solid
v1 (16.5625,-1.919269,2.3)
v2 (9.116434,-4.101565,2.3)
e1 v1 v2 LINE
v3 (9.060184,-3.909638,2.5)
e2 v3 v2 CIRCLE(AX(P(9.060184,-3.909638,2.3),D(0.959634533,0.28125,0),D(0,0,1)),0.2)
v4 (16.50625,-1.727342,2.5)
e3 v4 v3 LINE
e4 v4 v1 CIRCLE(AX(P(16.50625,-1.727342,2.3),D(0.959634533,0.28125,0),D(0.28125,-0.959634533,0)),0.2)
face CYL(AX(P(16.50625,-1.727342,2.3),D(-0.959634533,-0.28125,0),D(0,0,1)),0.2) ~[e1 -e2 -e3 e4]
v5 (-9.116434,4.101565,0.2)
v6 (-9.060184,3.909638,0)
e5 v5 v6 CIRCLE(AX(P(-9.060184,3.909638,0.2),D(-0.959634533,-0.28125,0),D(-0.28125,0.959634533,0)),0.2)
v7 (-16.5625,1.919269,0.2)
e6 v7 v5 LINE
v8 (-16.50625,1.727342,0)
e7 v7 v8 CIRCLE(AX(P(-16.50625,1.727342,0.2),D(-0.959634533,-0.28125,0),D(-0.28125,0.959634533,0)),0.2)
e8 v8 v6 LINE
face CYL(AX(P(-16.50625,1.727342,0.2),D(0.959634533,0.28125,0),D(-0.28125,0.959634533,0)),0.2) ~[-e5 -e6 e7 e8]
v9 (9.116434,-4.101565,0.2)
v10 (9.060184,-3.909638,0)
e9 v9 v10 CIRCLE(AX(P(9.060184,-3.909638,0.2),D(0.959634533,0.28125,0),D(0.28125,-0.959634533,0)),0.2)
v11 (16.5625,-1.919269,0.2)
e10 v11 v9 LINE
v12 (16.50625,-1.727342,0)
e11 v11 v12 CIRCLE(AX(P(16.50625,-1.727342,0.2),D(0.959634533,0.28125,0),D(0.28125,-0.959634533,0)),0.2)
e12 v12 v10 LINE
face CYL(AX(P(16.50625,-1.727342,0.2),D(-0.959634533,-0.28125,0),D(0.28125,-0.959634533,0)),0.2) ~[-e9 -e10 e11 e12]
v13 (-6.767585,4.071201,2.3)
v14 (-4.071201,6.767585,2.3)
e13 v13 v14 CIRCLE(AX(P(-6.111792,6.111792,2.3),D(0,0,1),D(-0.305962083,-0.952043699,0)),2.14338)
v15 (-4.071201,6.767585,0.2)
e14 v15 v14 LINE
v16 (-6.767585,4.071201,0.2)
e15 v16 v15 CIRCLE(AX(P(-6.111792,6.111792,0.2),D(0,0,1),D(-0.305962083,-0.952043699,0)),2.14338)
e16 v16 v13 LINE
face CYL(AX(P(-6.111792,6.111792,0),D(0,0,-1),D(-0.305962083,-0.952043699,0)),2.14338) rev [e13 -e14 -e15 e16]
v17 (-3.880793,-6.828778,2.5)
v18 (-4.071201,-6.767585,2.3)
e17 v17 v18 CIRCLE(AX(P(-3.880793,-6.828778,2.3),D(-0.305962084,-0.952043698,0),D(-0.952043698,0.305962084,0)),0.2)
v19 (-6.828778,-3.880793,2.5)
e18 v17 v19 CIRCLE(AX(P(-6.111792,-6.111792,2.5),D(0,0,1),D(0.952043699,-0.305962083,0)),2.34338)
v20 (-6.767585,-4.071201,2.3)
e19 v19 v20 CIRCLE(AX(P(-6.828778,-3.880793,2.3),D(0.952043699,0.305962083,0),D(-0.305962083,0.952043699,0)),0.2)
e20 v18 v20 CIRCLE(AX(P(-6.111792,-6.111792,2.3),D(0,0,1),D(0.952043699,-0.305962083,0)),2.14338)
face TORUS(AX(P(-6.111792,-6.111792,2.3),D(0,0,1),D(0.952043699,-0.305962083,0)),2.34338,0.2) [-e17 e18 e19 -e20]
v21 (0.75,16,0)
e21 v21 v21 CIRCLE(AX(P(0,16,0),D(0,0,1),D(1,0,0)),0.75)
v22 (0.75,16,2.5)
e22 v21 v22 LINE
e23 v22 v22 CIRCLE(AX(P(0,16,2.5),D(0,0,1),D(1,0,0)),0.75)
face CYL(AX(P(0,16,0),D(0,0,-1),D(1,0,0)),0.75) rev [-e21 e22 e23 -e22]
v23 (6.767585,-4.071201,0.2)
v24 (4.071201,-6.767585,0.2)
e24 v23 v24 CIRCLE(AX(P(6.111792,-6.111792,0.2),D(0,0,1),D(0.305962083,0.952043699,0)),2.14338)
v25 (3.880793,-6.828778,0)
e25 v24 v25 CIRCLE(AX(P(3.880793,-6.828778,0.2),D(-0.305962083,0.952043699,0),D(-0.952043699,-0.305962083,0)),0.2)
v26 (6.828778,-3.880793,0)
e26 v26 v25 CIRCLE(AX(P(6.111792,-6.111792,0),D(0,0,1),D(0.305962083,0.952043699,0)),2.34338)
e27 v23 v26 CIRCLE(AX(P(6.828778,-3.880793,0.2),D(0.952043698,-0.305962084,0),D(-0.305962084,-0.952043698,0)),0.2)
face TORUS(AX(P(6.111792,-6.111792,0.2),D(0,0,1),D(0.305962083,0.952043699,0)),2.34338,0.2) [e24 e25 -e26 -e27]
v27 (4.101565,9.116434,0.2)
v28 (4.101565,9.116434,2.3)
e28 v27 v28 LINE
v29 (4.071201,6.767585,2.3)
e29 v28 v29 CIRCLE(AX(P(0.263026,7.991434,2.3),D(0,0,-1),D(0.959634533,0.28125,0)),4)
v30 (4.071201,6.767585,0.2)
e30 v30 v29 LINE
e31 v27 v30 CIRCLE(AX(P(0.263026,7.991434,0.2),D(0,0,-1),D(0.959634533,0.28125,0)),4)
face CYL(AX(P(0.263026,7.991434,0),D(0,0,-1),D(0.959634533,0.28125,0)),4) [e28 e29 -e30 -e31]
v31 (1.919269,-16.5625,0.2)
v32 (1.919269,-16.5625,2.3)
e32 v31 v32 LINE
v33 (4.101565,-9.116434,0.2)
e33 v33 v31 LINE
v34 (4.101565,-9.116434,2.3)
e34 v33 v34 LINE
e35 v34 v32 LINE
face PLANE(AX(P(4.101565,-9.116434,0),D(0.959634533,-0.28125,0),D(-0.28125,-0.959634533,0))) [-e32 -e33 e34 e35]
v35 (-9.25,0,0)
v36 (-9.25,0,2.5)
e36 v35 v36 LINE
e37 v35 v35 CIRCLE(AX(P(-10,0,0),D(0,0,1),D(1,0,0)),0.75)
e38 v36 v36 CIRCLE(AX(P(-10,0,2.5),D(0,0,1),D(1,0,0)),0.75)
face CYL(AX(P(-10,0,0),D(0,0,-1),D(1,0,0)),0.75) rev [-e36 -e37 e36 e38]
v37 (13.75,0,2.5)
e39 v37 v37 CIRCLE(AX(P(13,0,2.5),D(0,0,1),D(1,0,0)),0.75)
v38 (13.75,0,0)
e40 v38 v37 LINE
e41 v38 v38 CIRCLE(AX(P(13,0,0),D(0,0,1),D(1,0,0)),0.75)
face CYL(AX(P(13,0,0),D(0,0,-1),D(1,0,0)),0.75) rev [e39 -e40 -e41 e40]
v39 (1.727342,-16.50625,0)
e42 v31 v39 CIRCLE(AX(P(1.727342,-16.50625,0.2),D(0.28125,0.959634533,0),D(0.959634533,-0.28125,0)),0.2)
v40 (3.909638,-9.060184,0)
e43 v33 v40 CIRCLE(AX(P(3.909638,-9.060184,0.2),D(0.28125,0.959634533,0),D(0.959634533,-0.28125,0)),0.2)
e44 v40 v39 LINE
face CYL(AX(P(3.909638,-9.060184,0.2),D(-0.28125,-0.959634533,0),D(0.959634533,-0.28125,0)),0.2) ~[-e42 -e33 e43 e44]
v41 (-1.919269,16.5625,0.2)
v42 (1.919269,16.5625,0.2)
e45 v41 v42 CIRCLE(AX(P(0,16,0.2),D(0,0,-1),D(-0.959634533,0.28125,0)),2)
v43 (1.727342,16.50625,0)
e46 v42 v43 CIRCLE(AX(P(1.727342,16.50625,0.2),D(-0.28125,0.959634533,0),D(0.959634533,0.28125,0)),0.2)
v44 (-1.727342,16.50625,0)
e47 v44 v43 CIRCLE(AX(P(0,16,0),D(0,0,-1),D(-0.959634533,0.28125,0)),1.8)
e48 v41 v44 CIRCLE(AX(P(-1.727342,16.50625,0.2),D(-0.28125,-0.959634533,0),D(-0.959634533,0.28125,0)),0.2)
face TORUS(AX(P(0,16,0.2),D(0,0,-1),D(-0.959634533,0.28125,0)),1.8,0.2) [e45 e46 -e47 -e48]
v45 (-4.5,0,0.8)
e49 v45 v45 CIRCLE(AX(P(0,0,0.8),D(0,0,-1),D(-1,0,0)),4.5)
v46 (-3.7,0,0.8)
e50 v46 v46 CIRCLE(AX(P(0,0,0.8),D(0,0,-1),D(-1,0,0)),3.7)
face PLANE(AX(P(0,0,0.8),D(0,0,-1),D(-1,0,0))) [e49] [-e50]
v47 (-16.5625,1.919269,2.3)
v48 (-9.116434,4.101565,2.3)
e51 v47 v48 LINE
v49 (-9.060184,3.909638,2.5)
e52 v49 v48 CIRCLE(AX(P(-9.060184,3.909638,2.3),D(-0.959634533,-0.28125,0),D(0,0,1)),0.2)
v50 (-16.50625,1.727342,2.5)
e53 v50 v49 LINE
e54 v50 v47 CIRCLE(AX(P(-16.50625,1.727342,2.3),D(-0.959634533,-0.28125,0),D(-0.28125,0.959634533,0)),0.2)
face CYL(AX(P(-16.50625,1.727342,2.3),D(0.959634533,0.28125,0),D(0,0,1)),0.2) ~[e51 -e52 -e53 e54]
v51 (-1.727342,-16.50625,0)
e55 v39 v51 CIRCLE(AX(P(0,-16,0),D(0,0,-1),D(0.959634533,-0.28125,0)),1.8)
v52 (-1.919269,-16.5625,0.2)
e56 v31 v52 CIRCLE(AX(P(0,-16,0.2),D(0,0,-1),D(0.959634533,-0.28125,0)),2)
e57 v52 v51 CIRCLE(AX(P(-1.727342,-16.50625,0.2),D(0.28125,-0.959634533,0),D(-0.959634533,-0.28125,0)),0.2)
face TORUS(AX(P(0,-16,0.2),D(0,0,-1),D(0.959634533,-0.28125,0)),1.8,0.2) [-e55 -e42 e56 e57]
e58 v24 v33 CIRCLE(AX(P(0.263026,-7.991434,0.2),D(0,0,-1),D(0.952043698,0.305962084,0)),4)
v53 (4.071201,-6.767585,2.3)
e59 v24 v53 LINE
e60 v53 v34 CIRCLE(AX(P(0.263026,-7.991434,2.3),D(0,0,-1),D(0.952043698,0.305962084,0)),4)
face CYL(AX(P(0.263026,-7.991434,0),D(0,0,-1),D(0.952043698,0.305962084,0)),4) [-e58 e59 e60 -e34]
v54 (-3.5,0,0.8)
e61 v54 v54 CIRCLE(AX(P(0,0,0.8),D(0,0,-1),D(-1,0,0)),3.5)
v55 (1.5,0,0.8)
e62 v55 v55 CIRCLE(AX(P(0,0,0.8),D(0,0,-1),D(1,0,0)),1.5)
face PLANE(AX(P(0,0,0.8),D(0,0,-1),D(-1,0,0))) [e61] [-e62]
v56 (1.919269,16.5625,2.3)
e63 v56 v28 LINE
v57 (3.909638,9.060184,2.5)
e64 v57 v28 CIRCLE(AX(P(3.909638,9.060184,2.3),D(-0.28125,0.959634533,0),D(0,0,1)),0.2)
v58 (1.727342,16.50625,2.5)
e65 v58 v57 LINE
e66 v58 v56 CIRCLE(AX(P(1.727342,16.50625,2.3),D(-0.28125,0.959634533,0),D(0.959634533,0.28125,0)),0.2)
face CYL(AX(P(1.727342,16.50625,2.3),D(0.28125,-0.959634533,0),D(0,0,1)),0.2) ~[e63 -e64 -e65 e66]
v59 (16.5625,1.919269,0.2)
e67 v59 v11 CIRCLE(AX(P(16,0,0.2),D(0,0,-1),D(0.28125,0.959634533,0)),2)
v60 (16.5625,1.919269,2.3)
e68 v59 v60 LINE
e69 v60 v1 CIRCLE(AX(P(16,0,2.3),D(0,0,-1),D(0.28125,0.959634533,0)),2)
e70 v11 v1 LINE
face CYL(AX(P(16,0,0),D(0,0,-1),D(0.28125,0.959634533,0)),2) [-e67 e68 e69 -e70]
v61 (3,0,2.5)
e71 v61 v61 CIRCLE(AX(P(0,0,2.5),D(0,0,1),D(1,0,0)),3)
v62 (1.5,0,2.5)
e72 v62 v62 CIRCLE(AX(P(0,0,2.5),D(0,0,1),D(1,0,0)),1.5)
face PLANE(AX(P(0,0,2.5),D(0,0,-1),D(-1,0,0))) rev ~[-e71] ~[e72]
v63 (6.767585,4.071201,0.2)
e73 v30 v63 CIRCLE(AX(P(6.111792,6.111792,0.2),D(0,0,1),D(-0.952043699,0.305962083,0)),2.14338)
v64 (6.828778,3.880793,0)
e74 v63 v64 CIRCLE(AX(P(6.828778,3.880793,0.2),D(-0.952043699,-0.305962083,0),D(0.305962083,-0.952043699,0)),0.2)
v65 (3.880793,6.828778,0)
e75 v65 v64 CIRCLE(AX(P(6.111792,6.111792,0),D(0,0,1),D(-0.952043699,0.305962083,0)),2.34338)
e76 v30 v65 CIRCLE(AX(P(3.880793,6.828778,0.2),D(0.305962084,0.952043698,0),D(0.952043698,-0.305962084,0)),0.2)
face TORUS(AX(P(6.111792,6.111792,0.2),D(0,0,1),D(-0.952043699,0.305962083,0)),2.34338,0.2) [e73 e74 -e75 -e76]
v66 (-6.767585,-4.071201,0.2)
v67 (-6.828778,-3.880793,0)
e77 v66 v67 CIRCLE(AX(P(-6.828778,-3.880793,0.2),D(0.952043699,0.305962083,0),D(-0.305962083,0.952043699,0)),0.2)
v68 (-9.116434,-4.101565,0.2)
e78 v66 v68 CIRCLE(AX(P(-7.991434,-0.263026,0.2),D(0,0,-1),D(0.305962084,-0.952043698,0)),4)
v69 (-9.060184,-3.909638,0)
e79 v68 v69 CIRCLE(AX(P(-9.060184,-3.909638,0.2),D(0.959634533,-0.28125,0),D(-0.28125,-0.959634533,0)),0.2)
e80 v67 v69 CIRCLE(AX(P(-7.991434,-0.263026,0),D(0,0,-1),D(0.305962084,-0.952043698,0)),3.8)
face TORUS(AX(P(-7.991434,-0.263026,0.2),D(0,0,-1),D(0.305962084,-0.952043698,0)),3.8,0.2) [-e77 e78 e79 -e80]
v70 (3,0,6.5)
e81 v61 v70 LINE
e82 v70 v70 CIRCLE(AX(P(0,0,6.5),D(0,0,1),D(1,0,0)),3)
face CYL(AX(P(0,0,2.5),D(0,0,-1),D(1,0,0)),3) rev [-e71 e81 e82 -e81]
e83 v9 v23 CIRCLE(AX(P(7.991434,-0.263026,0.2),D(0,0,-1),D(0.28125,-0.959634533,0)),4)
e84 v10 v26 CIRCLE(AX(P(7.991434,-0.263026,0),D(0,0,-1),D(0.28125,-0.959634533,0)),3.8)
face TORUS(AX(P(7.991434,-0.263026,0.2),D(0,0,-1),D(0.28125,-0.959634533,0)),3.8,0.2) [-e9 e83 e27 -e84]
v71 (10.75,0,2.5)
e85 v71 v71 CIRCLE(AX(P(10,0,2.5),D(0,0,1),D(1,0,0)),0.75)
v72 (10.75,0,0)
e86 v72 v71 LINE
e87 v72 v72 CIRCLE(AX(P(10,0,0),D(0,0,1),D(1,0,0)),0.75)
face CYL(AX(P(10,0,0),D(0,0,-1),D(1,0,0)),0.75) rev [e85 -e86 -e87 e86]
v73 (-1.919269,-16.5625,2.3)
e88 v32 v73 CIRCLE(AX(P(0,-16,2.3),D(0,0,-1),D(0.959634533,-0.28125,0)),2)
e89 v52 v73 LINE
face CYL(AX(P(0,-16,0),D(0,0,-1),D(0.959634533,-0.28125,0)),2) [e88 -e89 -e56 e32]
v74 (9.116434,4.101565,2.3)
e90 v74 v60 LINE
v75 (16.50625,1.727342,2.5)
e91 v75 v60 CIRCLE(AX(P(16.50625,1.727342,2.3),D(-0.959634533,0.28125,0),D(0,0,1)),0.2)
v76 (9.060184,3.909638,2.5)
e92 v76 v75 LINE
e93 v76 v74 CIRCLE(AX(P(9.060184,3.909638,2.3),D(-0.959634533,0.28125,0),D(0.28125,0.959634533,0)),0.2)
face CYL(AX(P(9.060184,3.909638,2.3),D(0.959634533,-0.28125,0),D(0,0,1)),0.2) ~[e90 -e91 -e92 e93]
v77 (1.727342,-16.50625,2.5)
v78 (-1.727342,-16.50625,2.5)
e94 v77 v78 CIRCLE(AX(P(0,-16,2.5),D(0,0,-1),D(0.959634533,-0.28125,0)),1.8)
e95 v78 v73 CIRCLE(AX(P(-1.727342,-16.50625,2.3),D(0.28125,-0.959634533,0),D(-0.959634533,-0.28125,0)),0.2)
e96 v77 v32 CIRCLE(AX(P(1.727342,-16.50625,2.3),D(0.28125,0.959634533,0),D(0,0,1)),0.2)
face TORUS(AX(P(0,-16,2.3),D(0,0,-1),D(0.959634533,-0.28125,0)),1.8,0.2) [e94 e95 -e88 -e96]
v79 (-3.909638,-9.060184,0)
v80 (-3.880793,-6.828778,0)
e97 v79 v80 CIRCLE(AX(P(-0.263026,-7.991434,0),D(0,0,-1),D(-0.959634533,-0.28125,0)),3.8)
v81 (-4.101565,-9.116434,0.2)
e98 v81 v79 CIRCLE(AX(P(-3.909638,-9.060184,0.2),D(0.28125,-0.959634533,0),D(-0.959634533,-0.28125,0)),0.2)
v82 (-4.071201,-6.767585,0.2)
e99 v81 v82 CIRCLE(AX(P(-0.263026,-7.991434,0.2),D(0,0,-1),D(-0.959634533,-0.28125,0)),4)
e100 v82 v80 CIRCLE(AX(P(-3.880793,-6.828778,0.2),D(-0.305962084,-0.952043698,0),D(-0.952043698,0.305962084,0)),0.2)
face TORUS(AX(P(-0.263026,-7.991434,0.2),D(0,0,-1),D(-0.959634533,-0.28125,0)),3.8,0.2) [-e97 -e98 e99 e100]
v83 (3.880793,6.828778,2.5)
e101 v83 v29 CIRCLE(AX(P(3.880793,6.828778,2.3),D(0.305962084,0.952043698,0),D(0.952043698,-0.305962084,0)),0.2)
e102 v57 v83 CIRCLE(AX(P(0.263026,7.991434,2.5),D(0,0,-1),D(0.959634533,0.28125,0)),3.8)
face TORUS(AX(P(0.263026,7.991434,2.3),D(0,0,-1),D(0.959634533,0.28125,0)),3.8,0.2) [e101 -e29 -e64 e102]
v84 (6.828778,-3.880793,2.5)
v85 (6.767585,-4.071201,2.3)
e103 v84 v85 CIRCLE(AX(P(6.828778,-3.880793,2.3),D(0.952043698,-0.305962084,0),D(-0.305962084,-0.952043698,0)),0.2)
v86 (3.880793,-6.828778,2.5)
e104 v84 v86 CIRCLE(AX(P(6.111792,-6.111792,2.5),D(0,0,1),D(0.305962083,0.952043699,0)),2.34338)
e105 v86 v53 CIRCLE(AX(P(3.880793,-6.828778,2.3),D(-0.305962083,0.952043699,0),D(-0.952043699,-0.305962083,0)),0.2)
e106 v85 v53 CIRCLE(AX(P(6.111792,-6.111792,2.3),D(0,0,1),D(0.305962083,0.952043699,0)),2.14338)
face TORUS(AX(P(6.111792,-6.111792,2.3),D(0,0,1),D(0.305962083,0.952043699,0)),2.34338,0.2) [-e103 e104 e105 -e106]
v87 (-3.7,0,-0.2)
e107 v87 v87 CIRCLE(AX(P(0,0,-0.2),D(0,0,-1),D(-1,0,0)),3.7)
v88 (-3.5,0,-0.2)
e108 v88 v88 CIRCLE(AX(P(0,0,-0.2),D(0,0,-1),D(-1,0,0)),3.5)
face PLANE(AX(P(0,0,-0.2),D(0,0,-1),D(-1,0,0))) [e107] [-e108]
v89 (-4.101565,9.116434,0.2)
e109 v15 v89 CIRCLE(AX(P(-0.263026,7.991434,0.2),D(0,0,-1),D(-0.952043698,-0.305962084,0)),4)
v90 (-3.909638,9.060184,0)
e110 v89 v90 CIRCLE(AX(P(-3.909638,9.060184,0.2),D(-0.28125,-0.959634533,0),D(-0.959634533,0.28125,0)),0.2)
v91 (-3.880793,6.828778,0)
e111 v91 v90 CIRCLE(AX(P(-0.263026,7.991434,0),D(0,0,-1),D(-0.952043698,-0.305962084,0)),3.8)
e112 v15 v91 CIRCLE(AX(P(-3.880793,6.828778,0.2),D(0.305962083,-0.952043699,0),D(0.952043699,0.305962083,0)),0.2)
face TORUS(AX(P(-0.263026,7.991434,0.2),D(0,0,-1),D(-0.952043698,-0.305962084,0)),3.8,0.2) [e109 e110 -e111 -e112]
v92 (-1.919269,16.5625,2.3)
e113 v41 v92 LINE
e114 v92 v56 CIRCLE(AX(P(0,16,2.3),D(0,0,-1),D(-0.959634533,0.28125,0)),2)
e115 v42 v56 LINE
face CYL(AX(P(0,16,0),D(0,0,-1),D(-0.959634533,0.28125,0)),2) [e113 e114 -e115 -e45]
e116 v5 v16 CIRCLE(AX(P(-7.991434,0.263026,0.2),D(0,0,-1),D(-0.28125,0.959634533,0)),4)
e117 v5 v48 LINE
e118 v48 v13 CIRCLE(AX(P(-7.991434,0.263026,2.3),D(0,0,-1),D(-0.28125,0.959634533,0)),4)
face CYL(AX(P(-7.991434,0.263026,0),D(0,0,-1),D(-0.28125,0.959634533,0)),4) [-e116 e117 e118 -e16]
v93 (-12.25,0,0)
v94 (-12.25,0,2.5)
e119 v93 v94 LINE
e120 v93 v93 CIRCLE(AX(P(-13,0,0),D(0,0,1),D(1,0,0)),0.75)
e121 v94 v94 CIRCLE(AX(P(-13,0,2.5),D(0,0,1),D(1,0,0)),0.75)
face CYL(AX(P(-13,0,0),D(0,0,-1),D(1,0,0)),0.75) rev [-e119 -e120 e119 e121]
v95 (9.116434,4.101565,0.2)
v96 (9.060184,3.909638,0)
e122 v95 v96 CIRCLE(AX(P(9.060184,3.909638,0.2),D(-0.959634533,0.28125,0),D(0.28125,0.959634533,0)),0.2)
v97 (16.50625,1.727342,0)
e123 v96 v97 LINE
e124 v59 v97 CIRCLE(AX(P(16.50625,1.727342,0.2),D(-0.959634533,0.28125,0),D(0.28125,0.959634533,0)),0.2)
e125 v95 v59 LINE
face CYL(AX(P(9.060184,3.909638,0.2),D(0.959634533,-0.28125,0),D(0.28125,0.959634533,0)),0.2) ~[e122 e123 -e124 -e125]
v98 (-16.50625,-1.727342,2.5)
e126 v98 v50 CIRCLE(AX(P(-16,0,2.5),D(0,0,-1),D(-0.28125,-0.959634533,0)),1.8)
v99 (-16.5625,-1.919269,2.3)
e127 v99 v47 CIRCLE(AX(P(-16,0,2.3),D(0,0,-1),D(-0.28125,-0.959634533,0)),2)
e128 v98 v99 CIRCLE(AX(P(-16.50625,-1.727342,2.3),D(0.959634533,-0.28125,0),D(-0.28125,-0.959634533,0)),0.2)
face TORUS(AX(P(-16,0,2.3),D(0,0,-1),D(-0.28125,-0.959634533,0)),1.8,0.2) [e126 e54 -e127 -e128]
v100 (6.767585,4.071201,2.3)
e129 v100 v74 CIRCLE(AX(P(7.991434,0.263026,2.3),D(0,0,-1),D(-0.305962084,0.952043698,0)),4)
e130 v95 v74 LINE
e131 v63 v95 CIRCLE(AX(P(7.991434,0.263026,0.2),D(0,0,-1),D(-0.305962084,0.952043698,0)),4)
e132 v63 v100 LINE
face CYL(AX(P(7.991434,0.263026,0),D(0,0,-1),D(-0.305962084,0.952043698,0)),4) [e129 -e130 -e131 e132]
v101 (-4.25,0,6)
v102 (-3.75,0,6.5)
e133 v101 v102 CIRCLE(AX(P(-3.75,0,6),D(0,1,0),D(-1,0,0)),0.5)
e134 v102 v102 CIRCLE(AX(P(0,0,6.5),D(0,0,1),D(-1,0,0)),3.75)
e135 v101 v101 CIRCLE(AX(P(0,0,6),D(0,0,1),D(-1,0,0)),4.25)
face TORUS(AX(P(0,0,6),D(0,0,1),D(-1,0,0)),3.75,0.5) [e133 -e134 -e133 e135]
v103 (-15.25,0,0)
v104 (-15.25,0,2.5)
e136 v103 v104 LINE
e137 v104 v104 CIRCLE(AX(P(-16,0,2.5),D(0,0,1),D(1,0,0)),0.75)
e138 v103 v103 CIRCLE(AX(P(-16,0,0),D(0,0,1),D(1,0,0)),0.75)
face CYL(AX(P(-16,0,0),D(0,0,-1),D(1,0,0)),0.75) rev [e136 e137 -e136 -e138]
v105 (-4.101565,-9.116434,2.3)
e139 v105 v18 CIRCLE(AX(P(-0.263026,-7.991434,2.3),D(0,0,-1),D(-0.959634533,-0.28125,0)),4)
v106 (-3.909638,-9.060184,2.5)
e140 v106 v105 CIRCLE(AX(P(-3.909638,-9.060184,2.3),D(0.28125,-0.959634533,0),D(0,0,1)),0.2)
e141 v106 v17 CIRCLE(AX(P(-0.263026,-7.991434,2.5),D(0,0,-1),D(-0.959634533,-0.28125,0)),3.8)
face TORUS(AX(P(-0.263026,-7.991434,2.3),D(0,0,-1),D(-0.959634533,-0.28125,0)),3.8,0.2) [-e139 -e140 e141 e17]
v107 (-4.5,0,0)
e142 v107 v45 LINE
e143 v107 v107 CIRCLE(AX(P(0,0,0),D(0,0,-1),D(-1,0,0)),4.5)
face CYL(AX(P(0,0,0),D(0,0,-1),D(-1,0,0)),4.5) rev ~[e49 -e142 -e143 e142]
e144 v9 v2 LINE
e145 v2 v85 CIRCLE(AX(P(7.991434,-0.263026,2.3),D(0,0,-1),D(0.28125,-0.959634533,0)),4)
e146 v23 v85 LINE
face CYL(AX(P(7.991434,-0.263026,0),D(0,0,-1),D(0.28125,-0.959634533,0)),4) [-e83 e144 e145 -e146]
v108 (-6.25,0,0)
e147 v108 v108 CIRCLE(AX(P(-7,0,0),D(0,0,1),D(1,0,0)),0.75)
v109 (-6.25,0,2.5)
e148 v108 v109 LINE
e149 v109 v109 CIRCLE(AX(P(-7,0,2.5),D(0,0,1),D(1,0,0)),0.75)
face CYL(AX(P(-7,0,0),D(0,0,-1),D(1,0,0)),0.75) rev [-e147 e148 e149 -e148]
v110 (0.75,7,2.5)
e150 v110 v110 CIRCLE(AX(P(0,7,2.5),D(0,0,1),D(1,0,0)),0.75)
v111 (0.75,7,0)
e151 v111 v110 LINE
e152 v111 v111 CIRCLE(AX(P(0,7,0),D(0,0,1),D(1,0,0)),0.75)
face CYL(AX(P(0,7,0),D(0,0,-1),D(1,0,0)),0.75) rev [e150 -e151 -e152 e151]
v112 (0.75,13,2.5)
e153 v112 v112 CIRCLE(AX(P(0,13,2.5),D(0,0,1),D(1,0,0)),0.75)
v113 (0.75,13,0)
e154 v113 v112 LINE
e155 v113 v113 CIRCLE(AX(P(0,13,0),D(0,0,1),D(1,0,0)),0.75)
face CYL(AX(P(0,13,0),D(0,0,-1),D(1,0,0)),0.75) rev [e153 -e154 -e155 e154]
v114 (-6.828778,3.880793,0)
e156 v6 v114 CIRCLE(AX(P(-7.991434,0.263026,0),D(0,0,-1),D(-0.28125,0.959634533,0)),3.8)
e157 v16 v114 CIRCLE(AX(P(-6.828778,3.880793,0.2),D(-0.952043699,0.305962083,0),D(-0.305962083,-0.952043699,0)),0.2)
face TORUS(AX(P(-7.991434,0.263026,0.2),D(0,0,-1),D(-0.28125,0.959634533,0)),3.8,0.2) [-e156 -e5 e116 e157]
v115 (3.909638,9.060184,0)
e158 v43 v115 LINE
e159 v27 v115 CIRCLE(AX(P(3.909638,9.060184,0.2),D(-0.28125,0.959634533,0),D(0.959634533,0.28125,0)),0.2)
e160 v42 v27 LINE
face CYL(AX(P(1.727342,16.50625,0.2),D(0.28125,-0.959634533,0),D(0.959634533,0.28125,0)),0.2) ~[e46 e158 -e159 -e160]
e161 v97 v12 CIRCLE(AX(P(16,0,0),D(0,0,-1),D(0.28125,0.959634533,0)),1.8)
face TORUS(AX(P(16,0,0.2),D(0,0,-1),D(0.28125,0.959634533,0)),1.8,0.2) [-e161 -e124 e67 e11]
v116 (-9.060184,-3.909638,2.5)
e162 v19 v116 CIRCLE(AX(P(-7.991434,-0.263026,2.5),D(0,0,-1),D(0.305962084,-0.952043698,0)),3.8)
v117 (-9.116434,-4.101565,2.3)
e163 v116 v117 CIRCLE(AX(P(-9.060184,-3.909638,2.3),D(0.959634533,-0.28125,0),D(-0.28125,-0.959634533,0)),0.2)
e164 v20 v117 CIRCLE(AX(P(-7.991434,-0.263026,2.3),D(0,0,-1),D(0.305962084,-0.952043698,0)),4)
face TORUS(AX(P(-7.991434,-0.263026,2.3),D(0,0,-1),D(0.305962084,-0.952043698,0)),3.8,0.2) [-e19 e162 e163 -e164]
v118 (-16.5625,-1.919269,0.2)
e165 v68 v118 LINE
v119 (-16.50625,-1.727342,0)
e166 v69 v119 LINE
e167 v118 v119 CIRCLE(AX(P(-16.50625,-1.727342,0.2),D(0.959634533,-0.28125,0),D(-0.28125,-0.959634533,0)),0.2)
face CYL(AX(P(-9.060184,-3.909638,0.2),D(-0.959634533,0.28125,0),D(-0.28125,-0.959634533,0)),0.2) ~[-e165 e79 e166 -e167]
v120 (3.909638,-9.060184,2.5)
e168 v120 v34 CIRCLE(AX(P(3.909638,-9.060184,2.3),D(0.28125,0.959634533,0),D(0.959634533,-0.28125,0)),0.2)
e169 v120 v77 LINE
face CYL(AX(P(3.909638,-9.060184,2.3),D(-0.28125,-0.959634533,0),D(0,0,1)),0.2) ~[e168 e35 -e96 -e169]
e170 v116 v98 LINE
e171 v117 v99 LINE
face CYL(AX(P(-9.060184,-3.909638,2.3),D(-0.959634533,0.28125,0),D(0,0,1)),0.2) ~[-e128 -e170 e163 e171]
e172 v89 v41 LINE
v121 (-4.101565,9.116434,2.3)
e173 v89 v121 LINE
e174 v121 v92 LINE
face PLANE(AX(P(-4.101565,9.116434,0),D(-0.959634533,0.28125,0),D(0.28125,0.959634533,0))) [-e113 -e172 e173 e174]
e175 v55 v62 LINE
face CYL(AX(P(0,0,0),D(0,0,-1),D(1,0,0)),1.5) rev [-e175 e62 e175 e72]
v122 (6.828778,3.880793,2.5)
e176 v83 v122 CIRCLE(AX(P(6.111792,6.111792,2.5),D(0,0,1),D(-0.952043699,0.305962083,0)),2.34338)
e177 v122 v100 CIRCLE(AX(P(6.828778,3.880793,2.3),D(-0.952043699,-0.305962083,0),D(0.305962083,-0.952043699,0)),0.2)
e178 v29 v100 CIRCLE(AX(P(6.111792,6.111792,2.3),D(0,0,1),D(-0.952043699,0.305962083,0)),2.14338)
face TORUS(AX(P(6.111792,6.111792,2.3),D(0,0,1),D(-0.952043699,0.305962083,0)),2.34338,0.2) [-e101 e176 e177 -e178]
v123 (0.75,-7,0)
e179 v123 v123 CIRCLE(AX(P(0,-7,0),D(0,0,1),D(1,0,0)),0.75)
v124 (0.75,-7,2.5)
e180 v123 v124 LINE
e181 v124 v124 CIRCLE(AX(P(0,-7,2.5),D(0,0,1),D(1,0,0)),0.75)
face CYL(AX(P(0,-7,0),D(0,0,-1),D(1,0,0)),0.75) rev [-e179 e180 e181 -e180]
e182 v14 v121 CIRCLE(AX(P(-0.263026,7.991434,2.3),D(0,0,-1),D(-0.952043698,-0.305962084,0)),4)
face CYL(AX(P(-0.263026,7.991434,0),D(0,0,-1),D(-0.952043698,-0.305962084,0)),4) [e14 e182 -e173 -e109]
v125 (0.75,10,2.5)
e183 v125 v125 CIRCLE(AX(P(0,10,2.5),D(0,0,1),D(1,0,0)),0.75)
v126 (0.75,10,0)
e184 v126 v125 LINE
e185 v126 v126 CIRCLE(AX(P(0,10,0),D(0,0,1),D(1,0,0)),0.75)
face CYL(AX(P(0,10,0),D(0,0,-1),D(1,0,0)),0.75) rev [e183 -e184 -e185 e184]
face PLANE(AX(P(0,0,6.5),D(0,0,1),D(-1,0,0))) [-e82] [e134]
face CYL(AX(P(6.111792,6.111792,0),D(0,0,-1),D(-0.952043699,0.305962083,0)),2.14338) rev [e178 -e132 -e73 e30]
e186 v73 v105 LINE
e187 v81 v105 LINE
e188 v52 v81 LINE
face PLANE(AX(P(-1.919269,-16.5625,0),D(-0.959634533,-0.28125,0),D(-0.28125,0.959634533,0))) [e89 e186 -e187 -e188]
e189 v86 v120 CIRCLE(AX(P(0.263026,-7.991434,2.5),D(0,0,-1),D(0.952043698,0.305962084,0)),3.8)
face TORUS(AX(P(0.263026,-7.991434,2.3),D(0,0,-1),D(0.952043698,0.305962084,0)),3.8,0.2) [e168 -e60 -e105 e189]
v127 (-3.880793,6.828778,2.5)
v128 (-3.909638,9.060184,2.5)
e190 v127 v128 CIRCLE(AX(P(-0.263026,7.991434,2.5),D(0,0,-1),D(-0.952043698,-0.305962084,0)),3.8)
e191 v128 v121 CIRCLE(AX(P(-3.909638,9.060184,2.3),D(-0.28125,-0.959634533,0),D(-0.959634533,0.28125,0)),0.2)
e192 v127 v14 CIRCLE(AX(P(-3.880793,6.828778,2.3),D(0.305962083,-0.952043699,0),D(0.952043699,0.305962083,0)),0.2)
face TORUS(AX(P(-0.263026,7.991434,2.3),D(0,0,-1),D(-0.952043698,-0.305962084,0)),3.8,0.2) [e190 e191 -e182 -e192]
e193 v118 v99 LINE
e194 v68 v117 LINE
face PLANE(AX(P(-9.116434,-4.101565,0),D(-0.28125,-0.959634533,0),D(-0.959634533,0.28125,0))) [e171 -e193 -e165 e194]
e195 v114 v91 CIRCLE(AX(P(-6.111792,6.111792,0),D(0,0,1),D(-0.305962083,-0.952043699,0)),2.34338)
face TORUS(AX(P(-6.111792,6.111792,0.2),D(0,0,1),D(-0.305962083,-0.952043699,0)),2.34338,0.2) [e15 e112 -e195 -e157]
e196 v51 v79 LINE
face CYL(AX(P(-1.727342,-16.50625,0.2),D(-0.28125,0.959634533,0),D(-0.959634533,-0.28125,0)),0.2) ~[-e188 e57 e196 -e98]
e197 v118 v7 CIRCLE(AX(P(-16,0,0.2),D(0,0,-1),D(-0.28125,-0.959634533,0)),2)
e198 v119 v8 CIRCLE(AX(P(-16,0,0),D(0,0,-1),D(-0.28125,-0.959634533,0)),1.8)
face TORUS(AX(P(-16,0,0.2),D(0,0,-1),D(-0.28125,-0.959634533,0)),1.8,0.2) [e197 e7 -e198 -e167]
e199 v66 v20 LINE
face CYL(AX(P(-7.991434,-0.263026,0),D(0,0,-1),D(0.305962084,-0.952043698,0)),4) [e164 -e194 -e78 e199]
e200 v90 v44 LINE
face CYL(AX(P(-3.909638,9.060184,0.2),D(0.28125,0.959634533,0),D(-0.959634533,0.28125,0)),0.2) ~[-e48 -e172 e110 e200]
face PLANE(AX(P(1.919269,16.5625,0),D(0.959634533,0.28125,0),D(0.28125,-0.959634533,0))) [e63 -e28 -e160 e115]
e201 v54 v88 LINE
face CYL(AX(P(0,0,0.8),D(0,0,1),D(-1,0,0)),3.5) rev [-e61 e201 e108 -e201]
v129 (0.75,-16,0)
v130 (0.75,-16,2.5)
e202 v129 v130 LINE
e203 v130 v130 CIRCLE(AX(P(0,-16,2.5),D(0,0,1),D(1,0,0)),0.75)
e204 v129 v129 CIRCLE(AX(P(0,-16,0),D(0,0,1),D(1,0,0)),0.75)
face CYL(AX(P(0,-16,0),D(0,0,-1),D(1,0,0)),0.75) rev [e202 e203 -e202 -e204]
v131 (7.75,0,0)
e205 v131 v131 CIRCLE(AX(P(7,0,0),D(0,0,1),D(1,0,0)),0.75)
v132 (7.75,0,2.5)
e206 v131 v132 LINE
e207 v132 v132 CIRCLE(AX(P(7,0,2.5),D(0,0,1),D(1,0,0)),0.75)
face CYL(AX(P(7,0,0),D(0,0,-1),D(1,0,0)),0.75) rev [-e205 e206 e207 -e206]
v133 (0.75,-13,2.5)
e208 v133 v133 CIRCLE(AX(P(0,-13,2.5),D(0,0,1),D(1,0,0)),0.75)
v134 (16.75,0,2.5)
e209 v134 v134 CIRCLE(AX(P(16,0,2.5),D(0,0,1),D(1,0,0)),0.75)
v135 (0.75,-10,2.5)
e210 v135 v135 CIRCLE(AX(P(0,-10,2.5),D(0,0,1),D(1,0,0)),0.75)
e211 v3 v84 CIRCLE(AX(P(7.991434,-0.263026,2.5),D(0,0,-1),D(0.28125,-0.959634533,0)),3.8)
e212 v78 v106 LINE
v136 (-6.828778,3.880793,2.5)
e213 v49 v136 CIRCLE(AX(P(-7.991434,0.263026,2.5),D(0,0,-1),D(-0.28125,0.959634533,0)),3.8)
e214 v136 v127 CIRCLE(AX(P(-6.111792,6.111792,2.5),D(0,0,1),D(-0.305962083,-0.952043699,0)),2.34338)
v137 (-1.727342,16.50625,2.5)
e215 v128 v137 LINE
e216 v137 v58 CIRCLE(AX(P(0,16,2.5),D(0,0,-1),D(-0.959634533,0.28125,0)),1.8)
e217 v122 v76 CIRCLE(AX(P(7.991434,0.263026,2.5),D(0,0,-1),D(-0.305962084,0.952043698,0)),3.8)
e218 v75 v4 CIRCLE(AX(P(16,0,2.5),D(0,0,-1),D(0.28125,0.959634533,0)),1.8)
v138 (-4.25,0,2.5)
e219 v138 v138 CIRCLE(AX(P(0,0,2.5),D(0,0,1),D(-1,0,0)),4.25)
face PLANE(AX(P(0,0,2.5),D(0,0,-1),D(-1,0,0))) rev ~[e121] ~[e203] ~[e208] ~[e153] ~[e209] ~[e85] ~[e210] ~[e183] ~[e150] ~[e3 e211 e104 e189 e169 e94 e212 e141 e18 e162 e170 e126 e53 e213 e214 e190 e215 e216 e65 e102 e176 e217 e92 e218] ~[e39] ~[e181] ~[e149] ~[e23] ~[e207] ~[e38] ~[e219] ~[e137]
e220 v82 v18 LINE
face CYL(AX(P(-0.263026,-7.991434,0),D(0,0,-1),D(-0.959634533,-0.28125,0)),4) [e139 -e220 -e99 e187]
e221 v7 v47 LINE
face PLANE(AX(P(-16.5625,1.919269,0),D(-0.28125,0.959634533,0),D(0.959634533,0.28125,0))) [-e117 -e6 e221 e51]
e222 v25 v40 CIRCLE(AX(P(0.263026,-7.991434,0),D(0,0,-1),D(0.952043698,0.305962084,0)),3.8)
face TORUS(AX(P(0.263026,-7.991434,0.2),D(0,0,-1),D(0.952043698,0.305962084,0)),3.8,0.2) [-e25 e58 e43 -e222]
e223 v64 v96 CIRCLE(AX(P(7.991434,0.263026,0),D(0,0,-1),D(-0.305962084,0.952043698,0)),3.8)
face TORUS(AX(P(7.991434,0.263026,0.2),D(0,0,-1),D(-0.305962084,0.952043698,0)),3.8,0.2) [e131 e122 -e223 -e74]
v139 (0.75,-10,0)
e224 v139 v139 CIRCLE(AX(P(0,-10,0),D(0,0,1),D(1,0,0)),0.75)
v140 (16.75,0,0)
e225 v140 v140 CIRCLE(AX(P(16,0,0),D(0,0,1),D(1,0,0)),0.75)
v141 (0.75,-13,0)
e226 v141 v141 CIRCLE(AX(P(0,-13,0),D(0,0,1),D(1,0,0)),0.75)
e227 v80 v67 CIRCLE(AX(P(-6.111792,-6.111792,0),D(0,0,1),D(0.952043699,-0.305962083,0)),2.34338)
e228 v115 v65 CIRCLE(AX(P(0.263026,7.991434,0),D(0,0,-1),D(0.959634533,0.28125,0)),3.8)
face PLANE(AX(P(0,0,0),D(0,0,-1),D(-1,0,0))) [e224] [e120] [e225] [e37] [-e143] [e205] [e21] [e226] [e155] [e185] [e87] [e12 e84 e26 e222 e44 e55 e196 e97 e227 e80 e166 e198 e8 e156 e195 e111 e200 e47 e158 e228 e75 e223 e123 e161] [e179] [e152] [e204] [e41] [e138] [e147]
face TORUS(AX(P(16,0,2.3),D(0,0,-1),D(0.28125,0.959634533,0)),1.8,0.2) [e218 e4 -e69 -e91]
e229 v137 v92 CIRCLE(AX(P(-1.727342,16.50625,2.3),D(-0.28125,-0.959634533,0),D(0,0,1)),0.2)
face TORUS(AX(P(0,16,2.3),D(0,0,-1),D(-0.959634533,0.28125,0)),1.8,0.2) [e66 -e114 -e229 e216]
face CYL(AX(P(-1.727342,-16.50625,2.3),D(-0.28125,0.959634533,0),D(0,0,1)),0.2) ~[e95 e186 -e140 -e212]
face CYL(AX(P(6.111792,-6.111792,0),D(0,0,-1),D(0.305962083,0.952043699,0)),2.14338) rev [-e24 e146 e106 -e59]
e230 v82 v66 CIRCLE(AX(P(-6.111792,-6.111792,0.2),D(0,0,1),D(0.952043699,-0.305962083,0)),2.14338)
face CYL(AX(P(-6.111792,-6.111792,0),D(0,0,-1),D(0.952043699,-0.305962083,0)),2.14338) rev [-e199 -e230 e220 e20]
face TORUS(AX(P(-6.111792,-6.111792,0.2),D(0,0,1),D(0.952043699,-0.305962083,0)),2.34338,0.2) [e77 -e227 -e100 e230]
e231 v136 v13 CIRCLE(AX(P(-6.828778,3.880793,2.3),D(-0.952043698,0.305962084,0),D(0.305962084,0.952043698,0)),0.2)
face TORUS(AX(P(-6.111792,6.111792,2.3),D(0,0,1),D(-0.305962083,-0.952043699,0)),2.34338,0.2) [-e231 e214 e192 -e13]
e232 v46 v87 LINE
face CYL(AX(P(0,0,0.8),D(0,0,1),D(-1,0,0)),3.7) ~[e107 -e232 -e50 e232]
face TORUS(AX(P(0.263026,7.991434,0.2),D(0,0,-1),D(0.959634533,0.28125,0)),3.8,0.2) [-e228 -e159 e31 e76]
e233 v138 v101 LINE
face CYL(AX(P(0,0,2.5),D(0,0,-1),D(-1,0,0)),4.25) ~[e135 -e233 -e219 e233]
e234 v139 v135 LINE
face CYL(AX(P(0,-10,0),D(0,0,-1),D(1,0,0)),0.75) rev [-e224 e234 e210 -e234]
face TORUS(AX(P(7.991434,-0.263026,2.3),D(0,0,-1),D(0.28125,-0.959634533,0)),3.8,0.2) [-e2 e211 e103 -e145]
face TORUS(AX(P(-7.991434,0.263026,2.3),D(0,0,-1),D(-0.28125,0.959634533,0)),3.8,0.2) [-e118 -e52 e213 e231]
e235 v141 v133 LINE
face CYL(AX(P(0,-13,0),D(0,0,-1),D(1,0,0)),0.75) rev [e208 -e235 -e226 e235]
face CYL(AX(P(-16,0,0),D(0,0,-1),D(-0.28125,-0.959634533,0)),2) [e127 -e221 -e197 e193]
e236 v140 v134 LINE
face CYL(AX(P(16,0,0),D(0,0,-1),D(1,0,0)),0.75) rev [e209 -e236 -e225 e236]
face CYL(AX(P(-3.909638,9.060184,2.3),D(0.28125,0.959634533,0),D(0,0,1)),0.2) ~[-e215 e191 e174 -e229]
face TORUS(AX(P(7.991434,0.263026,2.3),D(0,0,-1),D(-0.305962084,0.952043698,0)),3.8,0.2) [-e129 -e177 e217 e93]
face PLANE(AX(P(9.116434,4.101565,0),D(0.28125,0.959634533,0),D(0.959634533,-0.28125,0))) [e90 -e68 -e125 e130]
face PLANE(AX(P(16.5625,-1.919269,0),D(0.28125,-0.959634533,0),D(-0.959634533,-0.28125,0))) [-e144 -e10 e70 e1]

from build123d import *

# Parameters (mm, degrees)
SKETCH1_R           = 0.75
SKETCH1_R_2         = 1.5
BOSS_EXTRUDE1_DEPTH = 2.5
SKETCH2_R           = 4.25
SKETCH2_R_2         = 3
BOSS_EXTRUDE2_DEPTH = 4
SKETCH3_R           = 4.5
CUT_EXTRUDE1_DEPTH  = 0.8
SKETCH4_R           = 3.7
SKETCH4_R_2         = 3.5
BOSS_EXTRUDE3_DEPTH = 1
FILLET2_R           = 0.5
FILLET3_R           = 0.2


with BuildPart() as part:
    # Sketch1 → Boss-Extrude1 (new body)
    with BuildSketch(Plane.XY):
        with BuildLine():
            Line((1.919269067, 16.5625), (4.101564582, 9.116433729))
            ThreePointArc((4.101564582, 9.116433729), (4.262692281, 7.939730428), (4.071201242, 6.767585396))
            ThreePointArc((4.071201242, 6.767585396), (4.596194078, 4.596194078), (6.767585396, 4.071201242))
            ThreePointArc((6.767585396, 4.071201242), (7.939730428, 4.262692281), (9.116433729, 4.101564582))
            Line((9.116433729, 4.101564582), (16.5625, 1.919269067))
            ThreePointArc((16.5625, 1.919269067), (18, 0), (16.5625, -1.919269067))
            Line((16.5625, -1.919269067), (9.116433729, -4.101564582))
            ThreePointArc((9.116433729, -4.101564582), (7.939730428, -4.262692281), (6.767585396, -4.071201242))
            ThreePointArc((6.767585396, -4.071201242), (4.596194078, -4.596194078), (4.071201242, -6.767585396))
            ThreePointArc((4.071201242, -6.767585396), (4.262692281, -7.939730428), (4.101564582, -9.116433729))
            Line((4.101564582, -9.116433729), (1.919269067, -16.5625))
            ThreePointArc((1.919269067, -16.5625), (0, -18), (-1.919269067, -16.5625))
            Line((-1.919269067, -16.5625), (-4.101564582, -9.116433729))
            ThreePointArc((-4.101564582, -9.116433729), (-4.262692281, -7.939730428), (-4.071201242, -6.767585396))
            ThreePointArc((-4.071201242, -6.767585396), (-4.596194078, -4.596194078), (-6.767585396, -4.071201242))
            ThreePointArc((-6.767585396, -4.071201242), (-7.939730428, -4.262692281), (-9.116433729, -4.101564582))
            Line((-9.116433729, -4.101564582), (-16.5625, -1.919269067))
            ThreePointArc((-16.5625, -1.919269067), (-18, 0), (-16.5625, 1.919269067))
            Line((-16.5625, 1.919269067), (-9.116433729, 4.101564582))
            ThreePointArc((-9.116433729, 4.101564582), (-7.939730428, 4.262692281), (-6.767585396, 4.071201242))
            ThreePointArc((-6.767585396, 4.071201242), (-4.596194078, 4.596194078), (-4.071201242, 6.767585396))
            ThreePointArc((-4.071201242, 6.767585396), (-4.262692281, 7.939730428), (-4.101564582, 9.116433729))
            Line((-4.101564582, 9.116433729), (-1.919269067, 16.5625))
            ThreePointArc((-1.919269067, 16.5625), (0, 18), (1.919269067, 16.5625))
        make_face()
        with Locations((0, 7)):
            Circle(SKETCH1_R, mode=Mode.SUBTRACT)
        with Locations((0, 10)):
            Circle(SKETCH1_R, mode=Mode.SUBTRACT)
        with Locations((0, 13)):
            Circle(SKETCH1_R, mode=Mode.SUBTRACT)
        with Locations((0, 16)):
            Circle(SKETCH1_R, mode=Mode.SUBTRACT)
        Circle(SKETCH1_R_2, mode=Mode.SUBTRACT)
        with Locations((16, 0)):
            Circle(SKETCH1_R, mode=Mode.SUBTRACT)
        with Locations((13, 0)):
            Circle(SKETCH1_R, mode=Mode.SUBTRACT)
        with Locations((10, 0)):
            Circle(SKETCH1_R, mode=Mode.SUBTRACT)
        with Locations((7, 0)):
            Circle(SKETCH1_R, mode=Mode.SUBTRACT)
        with Locations((0, -16)):
            Circle(SKETCH1_R, mode=Mode.SUBTRACT)
        with Locations((0, -13)):
            Circle(SKETCH1_R, mode=Mode.SUBTRACT)
        with Locations((0, -10)):
            Circle(SKETCH1_R, mode=Mode.SUBTRACT)
        with Locations((0, -7)):
            Circle(SKETCH1_R, mode=Mode.SUBTRACT)
        with Locations((-16, 0)):
            Circle(SKETCH1_R, mode=Mode.SUBTRACT)
        with Locations((-13, 0)):
            Circle(SKETCH1_R, mode=Mode.SUBTRACT)
        with Locations((-10, 0)):
            Circle(SKETCH1_R, mode=Mode.SUBTRACT)
        with Locations((-7, 0)):
            Circle(SKETCH1_R, mode=Mode.SUBTRACT)
    extrude(amount=BOSS_EXTRUDE1_DEPTH)

    # Sketch2 → Boss-Extrude2 (add)
    with BuildSketch(Plane.XY.offset(2.5)):
        with Locations(Location((0, 0, 0), (0, 0, 180))):
            Circle(SKETCH2_R)
        Circle(SKETCH2_R_2, mode=Mode.SUBTRACT)
    extrude(amount=BOSS_EXTRUDE2_DEPTH)

    # Sketch3 → Cut-Extrude1 (cut)
    with BuildSketch(Plane(origin=(0, 0, 0), x_dir=(-1, 0, 0), z_dir=(0, 0, -1))):
        Circle(SKETCH3_R)
    extrude(amount=-CUT_EXTRUDE1_DEPTH, mode=Mode.SUBTRACT)

    # Sketch4 → Boss-Extrude3 (add)
    with BuildSketch(Plane(origin=(0, 0, 0.8), x_dir=(-1, 0, 0), z_dir=(0, 0, -1))):
        Circle(SKETCH4_R)
        Circle(SKETCH4_R_2, mode=Mode.SUBTRACT)
    extrude(amount=BOSS_EXTRUDE3_DEPTH)

    # Fillet2
    fillet2_edges = [part.edges().sort_by_distance(p)[0] for p in [
        (4.25, 0, 6.5),
    ]]
    fillet(fillet2_edges, radius=FILLET2_R)

    # Fillet3
    fillet3_edges = [part.edges().sort_by_distance(p)[0] for p in [
        (-18, 0, 2.5),
        (-12.839466865, -3.010416824, 2.5),
        (-7.939730428, -4.262692281, 2.5),
        (-4.596194078, -4.596194078, 2.5),
        (-4.596194078, 4.596194078, 0),
        (-4.262692281, 7.939730428, 0),
        (-3.010416824, 12.839466865, 0),
        (0, 18, 0),
        (-4.262692281, -7.939730428, 2.5),
        (3.010416824, 12.839466865, 0),
        (4.262692281, 7.939730428, 0),
        (4.596194078, 4.596194078, 0),
        (7.939730428, 4.262692281, 0),
        (12.839466865, 3.010416824, 0),
        (18, 0, 0),
        (12.839466865, -3.010416824, 0),
        (7.939730428, -4.262692281, 0),
        (-3.010416824, -12.839466865, 2.5),
        (4.596194078, -4.596194078, 0),
        (4.262692281, -7.939730428, 0),
        (3.010416824, -12.839466865, 0),
        (0, -18, 0),
        (-3.010416824, -12.839466865, 0),
        (-4.262692281, -7.939730428, 0),
        (-4.596194078, -4.596194078, 0),
        (0, -18, 2.5),
        (-7.939730428, -4.262692281, 0),
        (-12.839466865, -3.010416824, 0),
        (-18, 0, 0),
        (-12.839466865, 3.010416824, 0),
        (-7.939730428, 4.262692281, 0),
        (3.010416824, -12.839466865, 2.5),
        (4.262692281, -7.939730428, 2.5),
        (4.596194078, -4.596194078, 2.5),
        (-7.939730428, 4.262692281, 2.5),
        (7.939730428, -4.262692281, 2.5),
        (12.839466865, -3.010416824, 2.5),
        (18, 0, 2.5),
        (12.839466865, 3.010416824, 2.5),
        (7.939730428, 4.262692281, 2.5),
        (4.596194078, 4.596194078, 2.5),
        (4.262692281, 7.939730428, 2.5),
        (3.010416824, 12.839466865, 2.5),
        (0, 18, 2.5),
        (-3.010416824, 12.839466865, 2.5),
        (-12.839466865, 3.010416824, 2.5),
        (-4.262692281, 7.939730428, 2.5),
        (-4.596194078, 4.596194078, 2.5),
    ]]
    fillet(fillet3_edges, radius=FILLET3_R)


solid = part.part
